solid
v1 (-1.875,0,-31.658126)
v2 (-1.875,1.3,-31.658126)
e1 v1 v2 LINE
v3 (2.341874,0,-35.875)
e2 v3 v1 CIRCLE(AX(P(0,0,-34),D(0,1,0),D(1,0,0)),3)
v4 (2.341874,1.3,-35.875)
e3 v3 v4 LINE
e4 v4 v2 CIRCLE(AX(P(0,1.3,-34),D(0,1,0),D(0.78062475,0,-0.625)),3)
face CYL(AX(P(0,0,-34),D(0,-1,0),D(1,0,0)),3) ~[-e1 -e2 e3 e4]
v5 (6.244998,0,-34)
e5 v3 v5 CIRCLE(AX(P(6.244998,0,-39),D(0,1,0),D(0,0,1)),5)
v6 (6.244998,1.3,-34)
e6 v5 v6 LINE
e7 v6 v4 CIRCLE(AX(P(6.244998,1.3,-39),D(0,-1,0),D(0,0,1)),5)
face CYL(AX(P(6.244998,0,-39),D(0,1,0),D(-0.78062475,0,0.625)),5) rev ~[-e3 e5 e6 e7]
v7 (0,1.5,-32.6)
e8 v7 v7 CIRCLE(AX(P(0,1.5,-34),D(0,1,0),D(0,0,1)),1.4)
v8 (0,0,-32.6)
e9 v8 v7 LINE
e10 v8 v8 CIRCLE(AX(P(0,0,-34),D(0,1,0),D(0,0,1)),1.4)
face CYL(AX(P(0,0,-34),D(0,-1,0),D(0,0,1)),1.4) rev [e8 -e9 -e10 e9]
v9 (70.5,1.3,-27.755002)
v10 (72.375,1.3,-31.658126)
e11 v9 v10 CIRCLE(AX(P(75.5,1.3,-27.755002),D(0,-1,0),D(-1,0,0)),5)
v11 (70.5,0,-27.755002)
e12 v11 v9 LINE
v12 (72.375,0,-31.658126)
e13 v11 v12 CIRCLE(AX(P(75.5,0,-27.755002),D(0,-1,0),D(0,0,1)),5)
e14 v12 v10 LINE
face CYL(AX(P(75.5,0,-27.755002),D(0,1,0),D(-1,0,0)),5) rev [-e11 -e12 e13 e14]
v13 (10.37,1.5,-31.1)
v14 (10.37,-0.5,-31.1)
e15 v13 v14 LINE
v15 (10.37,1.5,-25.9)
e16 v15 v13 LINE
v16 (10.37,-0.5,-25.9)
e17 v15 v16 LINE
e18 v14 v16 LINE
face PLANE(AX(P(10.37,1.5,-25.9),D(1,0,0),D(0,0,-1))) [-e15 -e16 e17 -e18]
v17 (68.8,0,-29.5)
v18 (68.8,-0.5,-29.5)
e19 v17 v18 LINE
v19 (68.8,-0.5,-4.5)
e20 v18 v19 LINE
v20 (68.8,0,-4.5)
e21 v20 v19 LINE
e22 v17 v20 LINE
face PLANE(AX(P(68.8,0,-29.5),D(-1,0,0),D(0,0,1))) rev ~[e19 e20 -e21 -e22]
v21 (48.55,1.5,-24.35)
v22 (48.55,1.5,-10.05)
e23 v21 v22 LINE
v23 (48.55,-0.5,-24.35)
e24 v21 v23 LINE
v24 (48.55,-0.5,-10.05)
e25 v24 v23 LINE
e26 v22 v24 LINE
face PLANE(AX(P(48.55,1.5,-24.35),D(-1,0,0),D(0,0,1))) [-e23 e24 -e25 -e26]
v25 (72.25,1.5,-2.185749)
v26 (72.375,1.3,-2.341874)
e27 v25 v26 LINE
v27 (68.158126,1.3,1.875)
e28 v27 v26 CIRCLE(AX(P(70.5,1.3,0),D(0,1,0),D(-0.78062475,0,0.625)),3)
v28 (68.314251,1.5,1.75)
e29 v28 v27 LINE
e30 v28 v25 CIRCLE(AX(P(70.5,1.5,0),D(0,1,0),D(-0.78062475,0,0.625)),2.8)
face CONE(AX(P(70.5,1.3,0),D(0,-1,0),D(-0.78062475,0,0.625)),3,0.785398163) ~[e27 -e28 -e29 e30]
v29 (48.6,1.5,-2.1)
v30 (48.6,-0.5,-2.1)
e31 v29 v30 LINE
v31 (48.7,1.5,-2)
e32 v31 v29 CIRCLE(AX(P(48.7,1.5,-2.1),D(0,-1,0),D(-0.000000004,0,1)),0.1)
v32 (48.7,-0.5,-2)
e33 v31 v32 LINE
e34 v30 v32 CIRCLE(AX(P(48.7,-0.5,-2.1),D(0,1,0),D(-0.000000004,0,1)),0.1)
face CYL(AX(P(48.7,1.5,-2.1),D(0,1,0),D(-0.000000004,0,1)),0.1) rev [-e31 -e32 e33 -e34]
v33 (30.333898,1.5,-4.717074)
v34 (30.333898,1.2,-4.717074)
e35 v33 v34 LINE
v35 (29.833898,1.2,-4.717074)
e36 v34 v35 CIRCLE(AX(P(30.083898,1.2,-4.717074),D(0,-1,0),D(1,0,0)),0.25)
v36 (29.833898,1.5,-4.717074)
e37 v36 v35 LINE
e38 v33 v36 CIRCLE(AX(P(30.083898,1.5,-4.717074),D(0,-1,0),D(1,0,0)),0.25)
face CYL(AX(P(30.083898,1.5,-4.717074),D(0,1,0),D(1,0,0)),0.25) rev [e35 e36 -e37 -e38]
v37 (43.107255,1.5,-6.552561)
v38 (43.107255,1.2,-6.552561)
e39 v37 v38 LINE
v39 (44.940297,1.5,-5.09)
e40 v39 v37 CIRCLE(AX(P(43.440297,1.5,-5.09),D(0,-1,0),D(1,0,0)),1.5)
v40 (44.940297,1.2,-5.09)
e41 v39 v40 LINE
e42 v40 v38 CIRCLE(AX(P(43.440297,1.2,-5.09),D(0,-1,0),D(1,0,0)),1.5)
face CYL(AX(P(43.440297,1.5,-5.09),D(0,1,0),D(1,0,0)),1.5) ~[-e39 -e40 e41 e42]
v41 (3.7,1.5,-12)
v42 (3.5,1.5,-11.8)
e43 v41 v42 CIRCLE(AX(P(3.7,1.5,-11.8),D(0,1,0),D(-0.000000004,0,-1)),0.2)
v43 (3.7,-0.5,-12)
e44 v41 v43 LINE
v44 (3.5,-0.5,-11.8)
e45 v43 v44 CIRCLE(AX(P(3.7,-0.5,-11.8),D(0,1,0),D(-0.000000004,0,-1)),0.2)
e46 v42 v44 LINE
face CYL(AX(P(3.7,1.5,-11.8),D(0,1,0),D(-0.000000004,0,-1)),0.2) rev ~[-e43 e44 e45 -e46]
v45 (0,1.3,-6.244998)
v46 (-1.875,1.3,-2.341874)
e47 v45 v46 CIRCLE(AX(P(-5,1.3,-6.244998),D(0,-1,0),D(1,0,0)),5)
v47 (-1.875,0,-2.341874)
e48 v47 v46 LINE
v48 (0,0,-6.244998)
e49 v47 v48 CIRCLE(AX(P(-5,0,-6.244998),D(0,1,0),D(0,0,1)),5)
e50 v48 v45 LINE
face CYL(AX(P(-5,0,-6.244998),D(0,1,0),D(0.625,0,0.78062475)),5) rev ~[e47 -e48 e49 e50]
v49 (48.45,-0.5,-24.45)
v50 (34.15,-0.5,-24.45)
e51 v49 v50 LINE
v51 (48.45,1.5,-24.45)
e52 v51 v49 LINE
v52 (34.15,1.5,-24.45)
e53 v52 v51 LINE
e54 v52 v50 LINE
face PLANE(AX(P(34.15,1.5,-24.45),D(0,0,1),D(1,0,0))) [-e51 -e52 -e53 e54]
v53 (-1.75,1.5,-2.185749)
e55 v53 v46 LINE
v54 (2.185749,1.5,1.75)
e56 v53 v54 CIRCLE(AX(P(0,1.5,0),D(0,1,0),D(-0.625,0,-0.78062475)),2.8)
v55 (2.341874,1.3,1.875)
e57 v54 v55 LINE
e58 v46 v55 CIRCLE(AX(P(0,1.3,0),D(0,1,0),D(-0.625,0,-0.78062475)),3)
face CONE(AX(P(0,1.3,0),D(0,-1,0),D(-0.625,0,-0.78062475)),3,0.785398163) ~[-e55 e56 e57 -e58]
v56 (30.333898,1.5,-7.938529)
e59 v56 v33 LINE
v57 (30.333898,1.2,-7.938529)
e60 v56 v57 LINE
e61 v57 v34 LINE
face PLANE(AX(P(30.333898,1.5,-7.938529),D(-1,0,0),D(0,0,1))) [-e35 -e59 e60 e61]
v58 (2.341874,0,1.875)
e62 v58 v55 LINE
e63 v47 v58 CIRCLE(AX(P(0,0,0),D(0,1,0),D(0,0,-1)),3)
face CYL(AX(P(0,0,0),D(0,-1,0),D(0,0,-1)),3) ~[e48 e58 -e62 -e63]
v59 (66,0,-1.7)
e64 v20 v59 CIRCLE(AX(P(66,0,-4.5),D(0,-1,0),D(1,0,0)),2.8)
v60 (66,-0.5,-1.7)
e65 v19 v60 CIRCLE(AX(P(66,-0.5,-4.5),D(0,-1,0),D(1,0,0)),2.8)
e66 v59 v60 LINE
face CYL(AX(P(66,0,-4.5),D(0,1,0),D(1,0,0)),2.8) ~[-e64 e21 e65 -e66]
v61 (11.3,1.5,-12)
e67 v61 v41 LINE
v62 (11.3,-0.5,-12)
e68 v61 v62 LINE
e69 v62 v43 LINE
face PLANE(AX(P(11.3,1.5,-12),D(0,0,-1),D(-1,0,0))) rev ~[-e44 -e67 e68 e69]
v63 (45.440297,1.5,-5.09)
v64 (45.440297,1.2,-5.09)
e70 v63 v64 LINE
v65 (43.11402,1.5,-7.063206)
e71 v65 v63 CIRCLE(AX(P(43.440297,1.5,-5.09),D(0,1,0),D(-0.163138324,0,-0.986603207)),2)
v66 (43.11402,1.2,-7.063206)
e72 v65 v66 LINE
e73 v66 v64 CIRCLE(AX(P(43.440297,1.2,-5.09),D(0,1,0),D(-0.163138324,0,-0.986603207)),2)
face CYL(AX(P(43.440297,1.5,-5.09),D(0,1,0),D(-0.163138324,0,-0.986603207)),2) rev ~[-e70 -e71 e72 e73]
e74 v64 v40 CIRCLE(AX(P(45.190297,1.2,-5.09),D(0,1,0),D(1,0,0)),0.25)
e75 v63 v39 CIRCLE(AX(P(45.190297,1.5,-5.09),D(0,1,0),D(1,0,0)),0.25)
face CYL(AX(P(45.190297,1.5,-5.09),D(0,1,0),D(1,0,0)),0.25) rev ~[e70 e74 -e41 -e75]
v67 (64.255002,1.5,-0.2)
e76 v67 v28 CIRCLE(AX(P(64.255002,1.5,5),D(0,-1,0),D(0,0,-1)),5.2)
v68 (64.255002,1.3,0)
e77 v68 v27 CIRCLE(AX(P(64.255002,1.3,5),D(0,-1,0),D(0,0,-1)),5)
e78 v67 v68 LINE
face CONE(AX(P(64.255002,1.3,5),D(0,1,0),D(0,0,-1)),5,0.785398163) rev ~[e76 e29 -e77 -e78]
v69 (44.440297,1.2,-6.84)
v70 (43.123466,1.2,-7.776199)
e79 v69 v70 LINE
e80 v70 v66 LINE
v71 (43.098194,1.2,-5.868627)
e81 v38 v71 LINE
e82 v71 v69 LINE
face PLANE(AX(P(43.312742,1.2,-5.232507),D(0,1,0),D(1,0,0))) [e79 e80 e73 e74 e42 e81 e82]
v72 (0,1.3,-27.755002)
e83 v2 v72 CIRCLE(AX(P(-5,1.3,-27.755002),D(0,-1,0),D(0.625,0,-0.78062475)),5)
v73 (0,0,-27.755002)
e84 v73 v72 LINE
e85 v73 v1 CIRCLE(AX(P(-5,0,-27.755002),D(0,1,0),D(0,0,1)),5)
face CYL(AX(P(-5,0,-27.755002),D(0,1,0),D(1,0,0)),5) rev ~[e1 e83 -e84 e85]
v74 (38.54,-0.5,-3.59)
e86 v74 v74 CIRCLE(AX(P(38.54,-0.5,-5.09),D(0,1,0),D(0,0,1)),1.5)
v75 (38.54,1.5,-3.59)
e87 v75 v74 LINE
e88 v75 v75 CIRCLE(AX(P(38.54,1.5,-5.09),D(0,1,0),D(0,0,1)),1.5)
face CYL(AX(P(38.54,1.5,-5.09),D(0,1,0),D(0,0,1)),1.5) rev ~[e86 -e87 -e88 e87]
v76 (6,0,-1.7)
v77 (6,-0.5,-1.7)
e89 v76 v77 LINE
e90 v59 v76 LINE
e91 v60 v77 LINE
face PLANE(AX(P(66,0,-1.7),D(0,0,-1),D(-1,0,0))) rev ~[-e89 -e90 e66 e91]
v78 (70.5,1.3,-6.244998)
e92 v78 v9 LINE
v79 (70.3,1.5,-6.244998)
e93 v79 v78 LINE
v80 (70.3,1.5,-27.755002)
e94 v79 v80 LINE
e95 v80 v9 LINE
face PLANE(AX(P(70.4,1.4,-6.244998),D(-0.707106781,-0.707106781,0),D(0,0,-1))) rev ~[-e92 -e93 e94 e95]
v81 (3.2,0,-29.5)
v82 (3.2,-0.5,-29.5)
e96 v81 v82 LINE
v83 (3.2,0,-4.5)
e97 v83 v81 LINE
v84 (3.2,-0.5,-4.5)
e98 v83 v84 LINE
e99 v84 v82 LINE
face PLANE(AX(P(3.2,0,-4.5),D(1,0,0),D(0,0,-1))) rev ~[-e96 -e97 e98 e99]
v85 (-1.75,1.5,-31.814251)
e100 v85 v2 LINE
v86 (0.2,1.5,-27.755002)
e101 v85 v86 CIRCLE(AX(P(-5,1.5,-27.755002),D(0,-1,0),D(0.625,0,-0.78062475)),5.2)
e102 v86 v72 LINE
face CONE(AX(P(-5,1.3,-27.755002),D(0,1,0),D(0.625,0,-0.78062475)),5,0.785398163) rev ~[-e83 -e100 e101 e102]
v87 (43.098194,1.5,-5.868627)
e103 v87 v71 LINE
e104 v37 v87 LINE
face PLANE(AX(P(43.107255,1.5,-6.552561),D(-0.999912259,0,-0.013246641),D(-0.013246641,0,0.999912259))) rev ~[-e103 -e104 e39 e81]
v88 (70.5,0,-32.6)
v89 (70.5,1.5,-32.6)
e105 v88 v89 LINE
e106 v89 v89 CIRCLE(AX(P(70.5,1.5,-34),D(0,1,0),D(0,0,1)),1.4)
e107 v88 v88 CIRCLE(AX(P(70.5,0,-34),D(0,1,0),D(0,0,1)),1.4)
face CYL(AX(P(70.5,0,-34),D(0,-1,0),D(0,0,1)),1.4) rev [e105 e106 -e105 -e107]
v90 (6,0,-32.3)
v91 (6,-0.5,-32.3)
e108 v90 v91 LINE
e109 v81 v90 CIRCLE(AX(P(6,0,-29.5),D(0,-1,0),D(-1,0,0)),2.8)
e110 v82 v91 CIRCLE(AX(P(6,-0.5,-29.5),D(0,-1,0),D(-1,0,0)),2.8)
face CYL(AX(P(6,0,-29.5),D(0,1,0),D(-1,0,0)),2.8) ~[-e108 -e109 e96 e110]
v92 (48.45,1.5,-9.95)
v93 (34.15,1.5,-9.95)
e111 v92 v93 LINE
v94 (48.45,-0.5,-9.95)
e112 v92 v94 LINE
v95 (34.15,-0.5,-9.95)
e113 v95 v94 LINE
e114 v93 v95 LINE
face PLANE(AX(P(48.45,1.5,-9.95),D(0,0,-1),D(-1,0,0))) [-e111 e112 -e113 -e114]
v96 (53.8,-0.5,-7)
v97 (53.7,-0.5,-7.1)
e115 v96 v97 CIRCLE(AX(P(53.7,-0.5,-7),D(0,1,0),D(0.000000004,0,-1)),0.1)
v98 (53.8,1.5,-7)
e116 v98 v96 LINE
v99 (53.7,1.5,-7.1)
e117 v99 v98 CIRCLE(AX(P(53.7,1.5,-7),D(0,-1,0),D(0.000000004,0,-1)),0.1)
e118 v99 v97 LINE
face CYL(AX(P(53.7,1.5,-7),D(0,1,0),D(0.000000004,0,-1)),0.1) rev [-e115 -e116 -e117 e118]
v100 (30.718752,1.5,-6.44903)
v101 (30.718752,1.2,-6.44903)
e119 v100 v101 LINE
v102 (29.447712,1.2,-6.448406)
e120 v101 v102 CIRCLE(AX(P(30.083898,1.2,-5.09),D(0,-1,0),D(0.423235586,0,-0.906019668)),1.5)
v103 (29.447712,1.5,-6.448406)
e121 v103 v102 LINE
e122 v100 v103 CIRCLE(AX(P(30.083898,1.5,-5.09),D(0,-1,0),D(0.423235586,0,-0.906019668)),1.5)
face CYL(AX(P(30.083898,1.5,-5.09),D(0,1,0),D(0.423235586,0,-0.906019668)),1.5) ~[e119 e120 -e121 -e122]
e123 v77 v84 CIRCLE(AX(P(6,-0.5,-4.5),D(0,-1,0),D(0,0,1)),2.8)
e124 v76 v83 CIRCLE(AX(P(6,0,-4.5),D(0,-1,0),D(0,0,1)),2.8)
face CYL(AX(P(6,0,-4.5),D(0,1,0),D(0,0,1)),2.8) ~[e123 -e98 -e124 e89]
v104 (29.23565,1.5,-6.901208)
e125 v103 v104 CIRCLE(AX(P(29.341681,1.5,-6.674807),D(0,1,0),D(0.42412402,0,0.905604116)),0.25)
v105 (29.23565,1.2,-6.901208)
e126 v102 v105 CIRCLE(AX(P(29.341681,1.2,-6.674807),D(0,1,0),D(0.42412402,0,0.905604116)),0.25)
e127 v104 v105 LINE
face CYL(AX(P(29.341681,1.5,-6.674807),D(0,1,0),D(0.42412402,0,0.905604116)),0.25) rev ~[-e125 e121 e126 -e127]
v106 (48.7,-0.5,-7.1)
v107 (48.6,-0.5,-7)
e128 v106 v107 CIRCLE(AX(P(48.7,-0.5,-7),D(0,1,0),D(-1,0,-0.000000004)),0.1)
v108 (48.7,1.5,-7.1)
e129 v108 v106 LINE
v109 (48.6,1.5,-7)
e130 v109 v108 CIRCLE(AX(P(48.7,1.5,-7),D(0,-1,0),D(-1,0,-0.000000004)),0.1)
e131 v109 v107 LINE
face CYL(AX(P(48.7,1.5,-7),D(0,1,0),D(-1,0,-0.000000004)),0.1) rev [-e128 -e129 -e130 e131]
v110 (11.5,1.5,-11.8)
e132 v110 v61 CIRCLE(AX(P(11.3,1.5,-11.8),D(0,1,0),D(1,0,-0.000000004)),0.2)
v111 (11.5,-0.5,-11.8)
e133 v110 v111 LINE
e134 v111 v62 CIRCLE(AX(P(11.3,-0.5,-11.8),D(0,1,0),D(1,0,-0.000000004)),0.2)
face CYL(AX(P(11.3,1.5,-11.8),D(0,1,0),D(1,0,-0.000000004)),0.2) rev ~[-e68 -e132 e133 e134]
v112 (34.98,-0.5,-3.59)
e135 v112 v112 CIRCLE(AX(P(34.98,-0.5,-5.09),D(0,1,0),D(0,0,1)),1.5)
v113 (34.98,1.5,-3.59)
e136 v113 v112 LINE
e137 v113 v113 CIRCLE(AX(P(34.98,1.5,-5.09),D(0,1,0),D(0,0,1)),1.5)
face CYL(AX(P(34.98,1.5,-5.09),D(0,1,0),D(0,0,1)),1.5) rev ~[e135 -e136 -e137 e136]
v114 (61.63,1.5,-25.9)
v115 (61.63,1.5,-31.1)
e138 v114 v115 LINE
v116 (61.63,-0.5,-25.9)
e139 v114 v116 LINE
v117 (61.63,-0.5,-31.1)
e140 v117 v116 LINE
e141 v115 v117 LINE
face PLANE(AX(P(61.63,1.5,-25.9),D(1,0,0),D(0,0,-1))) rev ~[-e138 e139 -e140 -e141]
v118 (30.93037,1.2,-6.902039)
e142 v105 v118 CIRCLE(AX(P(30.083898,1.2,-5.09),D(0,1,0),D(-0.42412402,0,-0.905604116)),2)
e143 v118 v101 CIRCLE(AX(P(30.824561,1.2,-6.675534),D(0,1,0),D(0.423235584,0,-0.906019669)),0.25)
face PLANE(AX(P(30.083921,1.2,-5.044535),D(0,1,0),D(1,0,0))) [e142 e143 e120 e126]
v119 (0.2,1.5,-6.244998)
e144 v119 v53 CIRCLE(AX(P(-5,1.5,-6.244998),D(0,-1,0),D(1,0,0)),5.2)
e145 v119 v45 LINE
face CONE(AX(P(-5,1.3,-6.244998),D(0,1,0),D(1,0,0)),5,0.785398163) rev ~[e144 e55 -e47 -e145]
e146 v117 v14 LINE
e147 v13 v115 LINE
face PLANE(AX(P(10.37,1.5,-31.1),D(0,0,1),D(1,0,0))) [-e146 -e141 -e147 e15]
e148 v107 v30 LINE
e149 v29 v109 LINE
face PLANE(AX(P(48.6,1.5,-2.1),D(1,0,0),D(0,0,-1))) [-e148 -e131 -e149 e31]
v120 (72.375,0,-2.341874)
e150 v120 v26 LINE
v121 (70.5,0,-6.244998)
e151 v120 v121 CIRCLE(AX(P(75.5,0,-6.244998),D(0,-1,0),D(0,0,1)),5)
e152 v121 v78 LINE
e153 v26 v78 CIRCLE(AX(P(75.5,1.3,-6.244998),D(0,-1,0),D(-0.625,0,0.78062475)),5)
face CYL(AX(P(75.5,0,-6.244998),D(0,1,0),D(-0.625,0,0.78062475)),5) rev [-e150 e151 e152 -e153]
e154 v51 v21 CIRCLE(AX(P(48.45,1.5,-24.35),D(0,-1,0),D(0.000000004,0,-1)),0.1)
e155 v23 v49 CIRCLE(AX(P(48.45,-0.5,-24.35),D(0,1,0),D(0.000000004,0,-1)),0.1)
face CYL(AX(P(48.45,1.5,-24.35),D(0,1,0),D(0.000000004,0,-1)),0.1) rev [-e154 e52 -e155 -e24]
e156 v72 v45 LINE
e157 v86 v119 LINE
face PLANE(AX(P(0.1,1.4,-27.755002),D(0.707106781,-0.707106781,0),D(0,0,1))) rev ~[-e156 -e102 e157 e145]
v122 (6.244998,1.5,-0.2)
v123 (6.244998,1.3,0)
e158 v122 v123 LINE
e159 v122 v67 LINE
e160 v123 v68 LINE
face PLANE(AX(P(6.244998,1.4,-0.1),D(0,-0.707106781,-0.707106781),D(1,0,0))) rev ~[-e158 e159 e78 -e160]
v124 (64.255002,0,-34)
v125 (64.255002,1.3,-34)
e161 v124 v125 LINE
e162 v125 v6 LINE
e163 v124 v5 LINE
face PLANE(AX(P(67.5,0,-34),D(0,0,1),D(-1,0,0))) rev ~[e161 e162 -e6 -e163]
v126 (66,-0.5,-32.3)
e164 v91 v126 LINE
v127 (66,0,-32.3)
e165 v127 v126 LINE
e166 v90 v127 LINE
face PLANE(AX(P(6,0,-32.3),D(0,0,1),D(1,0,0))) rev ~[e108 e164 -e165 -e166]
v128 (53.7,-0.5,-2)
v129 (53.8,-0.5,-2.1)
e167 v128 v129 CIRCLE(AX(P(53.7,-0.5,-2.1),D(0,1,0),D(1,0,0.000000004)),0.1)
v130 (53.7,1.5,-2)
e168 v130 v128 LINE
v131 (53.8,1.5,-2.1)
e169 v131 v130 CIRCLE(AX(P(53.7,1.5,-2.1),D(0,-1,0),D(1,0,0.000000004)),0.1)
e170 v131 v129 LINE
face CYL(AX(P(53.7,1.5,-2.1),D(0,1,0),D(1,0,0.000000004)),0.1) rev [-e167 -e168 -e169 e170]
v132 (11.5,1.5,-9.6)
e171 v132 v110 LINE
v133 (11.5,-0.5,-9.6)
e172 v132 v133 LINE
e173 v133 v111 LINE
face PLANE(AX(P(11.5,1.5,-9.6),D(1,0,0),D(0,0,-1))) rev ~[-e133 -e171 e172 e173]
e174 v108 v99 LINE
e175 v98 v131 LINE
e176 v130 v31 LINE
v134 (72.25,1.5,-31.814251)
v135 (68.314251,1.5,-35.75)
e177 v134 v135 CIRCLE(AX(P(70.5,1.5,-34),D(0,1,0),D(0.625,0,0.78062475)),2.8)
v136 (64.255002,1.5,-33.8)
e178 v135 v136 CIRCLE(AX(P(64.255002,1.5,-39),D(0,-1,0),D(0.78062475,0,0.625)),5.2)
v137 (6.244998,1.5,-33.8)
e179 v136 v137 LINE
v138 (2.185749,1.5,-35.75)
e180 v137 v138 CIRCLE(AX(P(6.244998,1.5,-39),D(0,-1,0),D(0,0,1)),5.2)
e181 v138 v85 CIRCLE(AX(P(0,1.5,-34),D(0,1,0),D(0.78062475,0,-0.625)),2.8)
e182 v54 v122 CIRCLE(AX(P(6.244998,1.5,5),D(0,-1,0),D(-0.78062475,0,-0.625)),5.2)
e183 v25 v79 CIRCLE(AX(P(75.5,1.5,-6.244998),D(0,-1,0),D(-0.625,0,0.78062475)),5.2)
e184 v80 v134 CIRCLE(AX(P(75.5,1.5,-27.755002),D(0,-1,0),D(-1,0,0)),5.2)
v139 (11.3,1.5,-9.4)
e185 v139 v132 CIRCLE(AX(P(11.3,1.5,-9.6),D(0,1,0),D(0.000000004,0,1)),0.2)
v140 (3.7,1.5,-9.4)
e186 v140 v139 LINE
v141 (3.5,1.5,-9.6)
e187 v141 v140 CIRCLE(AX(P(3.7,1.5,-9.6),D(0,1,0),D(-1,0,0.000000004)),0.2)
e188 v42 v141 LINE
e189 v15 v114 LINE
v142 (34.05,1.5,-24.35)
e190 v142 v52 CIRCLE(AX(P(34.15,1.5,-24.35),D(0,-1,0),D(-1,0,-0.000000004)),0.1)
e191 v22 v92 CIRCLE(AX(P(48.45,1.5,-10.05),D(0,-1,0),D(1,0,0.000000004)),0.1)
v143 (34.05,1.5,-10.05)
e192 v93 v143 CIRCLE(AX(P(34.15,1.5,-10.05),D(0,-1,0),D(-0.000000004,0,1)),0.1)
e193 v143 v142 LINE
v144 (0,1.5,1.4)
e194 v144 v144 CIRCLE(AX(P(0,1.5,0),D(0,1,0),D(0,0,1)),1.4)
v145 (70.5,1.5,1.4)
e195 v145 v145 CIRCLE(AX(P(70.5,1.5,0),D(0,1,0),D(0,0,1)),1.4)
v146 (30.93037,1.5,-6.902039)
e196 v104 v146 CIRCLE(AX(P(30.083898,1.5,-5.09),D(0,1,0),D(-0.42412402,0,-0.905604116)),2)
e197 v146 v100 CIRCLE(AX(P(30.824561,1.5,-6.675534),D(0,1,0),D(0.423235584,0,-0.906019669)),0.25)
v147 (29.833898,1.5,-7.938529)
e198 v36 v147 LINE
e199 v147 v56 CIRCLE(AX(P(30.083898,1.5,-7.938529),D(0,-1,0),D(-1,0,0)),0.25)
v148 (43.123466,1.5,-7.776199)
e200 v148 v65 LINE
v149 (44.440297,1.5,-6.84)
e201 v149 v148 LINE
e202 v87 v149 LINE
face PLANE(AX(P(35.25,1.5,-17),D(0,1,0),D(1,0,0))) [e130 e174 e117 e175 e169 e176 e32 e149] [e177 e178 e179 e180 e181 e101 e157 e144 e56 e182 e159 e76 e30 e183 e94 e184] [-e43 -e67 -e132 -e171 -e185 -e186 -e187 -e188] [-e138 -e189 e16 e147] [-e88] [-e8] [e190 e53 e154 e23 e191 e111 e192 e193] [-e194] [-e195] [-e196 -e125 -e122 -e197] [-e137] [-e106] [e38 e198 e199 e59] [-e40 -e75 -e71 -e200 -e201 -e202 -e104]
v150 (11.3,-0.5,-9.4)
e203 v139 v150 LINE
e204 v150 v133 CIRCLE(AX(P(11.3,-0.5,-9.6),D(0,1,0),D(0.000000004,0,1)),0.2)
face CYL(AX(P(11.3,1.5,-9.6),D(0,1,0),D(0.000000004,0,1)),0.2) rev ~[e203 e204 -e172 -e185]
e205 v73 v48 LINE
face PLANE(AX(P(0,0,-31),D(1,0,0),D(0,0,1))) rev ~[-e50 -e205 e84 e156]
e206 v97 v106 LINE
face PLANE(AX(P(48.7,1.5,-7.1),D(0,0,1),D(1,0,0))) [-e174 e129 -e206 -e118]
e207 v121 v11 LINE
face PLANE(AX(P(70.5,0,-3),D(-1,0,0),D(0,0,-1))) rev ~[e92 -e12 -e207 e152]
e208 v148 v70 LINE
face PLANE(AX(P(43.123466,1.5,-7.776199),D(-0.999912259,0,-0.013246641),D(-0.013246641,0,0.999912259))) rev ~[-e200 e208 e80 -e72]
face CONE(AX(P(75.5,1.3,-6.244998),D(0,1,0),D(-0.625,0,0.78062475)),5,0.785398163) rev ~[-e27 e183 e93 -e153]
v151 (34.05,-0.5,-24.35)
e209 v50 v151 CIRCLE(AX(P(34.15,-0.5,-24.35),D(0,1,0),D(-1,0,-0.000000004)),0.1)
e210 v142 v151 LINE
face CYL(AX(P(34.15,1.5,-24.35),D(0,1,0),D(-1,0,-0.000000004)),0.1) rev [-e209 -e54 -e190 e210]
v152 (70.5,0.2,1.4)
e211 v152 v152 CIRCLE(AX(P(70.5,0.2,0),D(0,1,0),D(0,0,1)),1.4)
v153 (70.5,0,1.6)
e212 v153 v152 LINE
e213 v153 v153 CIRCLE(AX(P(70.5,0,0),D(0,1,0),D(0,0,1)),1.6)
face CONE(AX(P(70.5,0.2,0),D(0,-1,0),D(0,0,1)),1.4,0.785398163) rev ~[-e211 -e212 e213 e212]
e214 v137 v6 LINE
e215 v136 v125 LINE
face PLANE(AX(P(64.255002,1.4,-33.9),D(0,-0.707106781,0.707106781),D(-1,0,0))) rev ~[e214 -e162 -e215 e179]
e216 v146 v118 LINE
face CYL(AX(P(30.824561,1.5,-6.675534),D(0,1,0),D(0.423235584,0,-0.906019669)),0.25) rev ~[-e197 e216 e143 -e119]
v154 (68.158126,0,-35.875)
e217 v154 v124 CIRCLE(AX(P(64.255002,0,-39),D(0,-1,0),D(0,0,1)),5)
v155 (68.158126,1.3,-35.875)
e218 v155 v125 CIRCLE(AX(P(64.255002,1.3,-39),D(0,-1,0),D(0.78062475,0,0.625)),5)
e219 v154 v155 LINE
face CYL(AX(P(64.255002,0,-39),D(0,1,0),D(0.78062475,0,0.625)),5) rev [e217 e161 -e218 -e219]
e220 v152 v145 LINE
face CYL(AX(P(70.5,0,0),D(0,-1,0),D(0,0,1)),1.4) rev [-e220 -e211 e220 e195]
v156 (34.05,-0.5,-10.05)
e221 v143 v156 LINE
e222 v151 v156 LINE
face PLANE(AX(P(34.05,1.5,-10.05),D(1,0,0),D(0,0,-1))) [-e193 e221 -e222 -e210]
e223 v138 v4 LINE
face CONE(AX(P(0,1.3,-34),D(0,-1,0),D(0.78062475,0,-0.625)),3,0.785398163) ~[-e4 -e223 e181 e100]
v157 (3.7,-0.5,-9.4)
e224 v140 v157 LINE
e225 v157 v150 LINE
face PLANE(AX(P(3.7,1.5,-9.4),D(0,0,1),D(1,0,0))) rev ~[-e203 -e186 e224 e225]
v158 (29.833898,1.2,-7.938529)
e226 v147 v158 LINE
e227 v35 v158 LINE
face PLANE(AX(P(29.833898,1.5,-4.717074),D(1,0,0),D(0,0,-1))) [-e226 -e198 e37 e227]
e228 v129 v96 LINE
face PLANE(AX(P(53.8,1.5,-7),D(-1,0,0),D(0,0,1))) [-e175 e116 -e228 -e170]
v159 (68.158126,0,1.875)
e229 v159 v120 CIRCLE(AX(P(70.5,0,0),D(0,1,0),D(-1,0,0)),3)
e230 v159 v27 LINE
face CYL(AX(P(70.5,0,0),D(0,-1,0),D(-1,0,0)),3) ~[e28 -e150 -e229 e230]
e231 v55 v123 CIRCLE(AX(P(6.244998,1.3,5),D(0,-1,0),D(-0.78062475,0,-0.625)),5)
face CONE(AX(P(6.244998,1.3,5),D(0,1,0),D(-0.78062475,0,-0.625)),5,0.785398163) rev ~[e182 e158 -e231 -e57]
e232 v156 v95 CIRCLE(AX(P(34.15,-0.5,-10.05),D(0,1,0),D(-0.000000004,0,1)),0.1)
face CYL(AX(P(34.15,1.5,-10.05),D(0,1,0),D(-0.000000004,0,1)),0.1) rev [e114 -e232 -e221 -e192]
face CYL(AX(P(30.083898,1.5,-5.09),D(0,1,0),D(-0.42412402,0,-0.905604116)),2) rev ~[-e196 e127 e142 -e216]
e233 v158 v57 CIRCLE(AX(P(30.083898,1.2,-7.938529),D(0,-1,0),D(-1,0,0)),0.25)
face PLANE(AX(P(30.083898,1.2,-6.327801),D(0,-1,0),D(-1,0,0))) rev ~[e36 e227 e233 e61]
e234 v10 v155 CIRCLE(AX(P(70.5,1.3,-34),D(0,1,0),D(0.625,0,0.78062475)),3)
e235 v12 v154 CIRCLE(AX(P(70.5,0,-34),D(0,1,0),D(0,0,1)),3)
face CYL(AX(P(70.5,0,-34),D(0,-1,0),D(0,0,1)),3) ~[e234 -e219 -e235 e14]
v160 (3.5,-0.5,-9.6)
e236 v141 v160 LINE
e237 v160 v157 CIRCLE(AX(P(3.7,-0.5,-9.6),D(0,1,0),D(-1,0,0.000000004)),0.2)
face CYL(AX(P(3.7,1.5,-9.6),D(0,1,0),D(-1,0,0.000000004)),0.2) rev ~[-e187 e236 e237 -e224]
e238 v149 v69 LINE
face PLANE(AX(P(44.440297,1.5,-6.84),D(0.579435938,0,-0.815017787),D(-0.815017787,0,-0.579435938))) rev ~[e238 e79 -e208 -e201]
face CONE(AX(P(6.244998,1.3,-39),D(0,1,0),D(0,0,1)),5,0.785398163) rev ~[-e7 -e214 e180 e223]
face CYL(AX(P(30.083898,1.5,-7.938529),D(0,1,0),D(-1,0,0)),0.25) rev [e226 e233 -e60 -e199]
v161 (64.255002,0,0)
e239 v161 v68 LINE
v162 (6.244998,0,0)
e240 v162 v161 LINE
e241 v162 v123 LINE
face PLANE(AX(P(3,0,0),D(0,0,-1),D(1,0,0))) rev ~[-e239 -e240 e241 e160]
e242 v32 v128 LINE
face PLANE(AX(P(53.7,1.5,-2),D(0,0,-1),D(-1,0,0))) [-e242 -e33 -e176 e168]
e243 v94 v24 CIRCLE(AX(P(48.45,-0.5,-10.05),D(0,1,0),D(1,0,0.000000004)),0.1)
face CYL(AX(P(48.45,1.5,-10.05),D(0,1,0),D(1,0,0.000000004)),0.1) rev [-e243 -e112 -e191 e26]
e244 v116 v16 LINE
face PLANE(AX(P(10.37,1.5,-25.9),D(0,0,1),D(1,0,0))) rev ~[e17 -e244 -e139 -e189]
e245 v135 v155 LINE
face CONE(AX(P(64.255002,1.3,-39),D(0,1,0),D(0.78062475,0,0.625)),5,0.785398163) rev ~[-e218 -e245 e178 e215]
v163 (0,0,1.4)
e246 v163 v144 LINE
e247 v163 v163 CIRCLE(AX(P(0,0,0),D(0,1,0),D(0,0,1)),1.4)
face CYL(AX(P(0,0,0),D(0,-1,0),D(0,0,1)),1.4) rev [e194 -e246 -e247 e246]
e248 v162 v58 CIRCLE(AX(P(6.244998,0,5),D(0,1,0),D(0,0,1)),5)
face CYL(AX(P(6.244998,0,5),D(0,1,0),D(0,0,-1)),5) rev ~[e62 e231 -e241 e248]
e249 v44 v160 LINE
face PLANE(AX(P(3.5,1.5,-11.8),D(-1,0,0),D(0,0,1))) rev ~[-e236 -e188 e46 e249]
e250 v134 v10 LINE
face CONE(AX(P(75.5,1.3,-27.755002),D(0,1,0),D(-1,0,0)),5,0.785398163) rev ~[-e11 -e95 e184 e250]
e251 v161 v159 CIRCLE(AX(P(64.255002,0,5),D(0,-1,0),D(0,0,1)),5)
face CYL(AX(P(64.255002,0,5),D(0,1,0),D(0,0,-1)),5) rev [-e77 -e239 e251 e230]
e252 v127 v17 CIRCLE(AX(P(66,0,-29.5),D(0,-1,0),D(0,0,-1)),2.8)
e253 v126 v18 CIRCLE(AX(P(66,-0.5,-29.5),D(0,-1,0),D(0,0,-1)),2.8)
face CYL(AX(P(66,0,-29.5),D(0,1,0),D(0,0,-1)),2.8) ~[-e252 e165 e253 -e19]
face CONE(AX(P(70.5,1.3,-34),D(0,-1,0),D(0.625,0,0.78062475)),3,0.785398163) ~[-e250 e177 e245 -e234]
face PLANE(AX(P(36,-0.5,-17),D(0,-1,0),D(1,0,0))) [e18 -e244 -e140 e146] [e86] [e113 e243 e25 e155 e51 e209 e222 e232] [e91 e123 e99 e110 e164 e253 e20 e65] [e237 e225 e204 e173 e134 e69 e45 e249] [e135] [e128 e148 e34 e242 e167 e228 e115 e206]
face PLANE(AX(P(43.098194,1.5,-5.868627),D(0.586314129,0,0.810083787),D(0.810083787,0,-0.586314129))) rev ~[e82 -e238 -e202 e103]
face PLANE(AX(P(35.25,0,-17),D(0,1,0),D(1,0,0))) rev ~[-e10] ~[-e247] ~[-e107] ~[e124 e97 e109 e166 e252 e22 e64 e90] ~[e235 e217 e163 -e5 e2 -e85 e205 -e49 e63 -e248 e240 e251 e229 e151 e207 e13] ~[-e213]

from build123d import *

# Parameters (mm, degrees)
SKETCH_1_R          = 1.4
EXTRUDE_1_DEPTH     = 1.5
FILLET_1_R          = 5
EXTRUDE_2_DEPTH     = 0.5
CUT_EXTRUDE_1_DEPTH = 2.5
SKETCH_3_W          = 51.26
SKETCH_3_H          = 5.2
CUT_EXTRUDE_2_DEPTH = 2.5
CUT_EXTRUDE_3_DEPTH = 2.5
SKETCH_5_R          = 1.5
CUT_EXTRUDE_4_DEPTH = 2.5
CUT_EXTRUDE_5_DEPTH = 0.3
CHAMFER_1_SIZE      = 0.2
CUT_EXTRUDE_6_DEPTH = 2


with BuildPart() as part:
    # 草图1 → 凸台-拉伸1 (new body)
    with BuildSketch(Plane(origin=(0, 0, 0), x_dir=(1, 0, 0), z_dir=(0, 1, 0))):
        with BuildLine():
            Line((3, 0), (67.5, 0))
            ThreePointArc((67.5, 0), (72.621320344, -2.121320344), (70.5, 3))
            Line((70.5, 3), (70.5, 31))
            ThreePointArc((70.5, 31), (72.621320344, 36.121320344), (67.5, 34))
            Line((67.5, 34), (3, 34))
            ThreePointArc((3, 34), (-2.121320344, 36.121320344), (0, 31))
            Line((0, 31), (0, 3))
            ThreePointArc((0, 3), (-2.121320344, -2.121320344), (3, 0))
        make_face()
        with Locations(Location((0, 0, 0), (0, 0, 270))):
            Circle(SKETCH_1_R, mode=Mode.SUBTRACT)
        with Locations(Location((70.5, 0, 0), (0, 0, 270))):
            Circle(SKETCH_1_R, mode=Mode.SUBTRACT)
        with Locations(Location((70.5, 34, 0), (0, 0, 270))):
            Circle(SKETCH_1_R, mode=Mode.SUBTRACT)
        with Locations(Location((0, 34, 0), (0, 0, 270))):
            Circle(SKETCH_1_R, mode=Mode.SUBTRACT)
    extrude(amount=EXTRUDE_1_DEPTH)

    # 圆角1
    fillet_1_edges = [part.edges().sort_by_distance(p)[0] for p in [
        (70.5, 0.75, -31),
        (70.5, 0.75, -3),
        (67.5, 0.75, 0),
        (3, 0.75, 0),
        (0, 0.75, -3),
        (0, 0.75, -31),
        (3, 0.75, -34),
        (67.5, 0.75, -34),
    ]]
    fillet(fillet_1_edges, radius=FILLET_1_R)

    # 草图9 → 凸台-拉伸2 (add)
    with BuildSketch(Plane.XZ):
        with BuildLine():
            Line((3.2, -4.5), (3.2, -29.5))
            ThreePointArc((3.2, -29.5), (4.020101013, -31.479898987), (6, -32.3))
            Line((6, -32.3), (66, -32.3))
            ThreePointArc((66, -32.3), (67.979898987, -31.479898987), (68.8, -29.5))
            Line((68.8, -29.5), (68.8, -4.5))
            ThreePointArc((68.8, -4.5), (67.979898987, -2.520101013), (66, -1.7))
            Line((66, -1.7), (6, -1.7))
            ThreePointArc((6, -1.7), (4.020101013, -2.520101013), (3.2, -4.5))
        make_face()
    extrude(amount=EXTRUDE_2_DEPTH)

    # 草图2 → 切除-拉伸1 (cut)
    with BuildSketch(Plane(origin=(0, 1.5, 0), x_dir=(1, 0, 0), z_dir=(0, 1, 0))):
        with BuildLine():
            Line((48.45, 9.95), (34.15, 9.95))
            ThreePointArc((34.15, 9.95), (34.079289322, 9.979289322), (34.05, 10.05))
            Line((34.05, 10.05), (34.05, 24.35))
            ThreePointArc((34.05, 24.35), (34.079289322, 24.420710678), (34.15, 24.45))
            Line((34.15, 24.45), (48.45, 24.45))
            ThreePointArc((48.45, 24.45), (48.520710678, 24.420710678), (48.55, 24.35))
            Line((48.55, 24.35), (48.55, 10.05))
            ThreePointArc((48.55, 10.05), (48.520710678, 9.979289322), (48.45, 9.95))
        make_face()
    extrude(amount=-CUT_EXTRUDE_1_DEPTH, mode=Mode.SUBTRACT)

    # 草图3 → 切除-拉伸2 (cut)
    with BuildSketch(Plane(origin=(0, 1.5, 0), x_dir=(1, 0, 0), z_dir=(0, 1, 0))):
        with Locations((36, 28.5)):
            Rectangle(SKETCH_3_W, SKETCH_3_H)
    extrude(amount=-CUT_EXTRUDE_2_DEPTH, mode=Mode.SUBTRACT)

    # 草图4 → 切除-拉伸3 (cut)
    with BuildSketch(Plane(origin=(0, 1.5, 0), x_dir=(1, 0, 0), z_dir=(0, 1, 0))):
        with BuildLine():
            Line((48.7, 7.1), (53.7, 7.1))
            ThreePointArc((53.7, 7.1), (53.770710678, 7.070710678), (53.8, 7))
            Line((53.8, 7), (53.8, 2.1))
            ThreePointArc((53.8, 2.1), (53.770710678, 2.029289322), (53.7, 2))
            Line((53.7, 2), (48.7, 2))
            ThreePointArc((48.7, 2), (48.629289322, 2.029289322), (48.6, 2.1))
            Line((48.6, 2.1), (48.6, 7))
            ThreePointArc((48.6, 7), (48.629289322, 7.070710678), (48.7, 7.1))
        make_face()
    extrude(amount=-CUT_EXTRUDE_3_DEPTH, mode=Mode.SUBTRACT)

    # 草图5 → 切除-拉伸4 (cut)
    with BuildSketch(Plane(origin=(0, 1.5, 0), x_dir=(1, 0, 0), z_dir=(0, 1, 0))):
        with Locations(Location((34.98, 5.09, 0), (0, 0, 270))):
            Circle(SKETCH_5_R)
        with Locations(Location((38.54, 5.09, 0), (0, 0, 270))):
            Circle(SKETCH_5_R)
    extrude(amount=-CUT_EXTRUDE_4_DEPTH, mode=Mode.SUBTRACT)

    # 草图7 → 切除-拉伸5 (cut)
    with BuildSketch(Plane(origin=(0, 1.5, 0), x_dir=(1, 0, 0), z_dir=(0, 1, 0))):
        with BuildLine():
            Line((43.10725502, 6.55256053), (43.098194404, 5.868627045))
            Line((43.098194404, 5.868627045), (44.440296605, 6.84))
            Line((44.440296605, 6.84), (43.123465549, 7.776199492))
            Line((43.123465549, 7.776199492), (43.114019957, 7.063206413))
            ThreePointArc((43.114019957, 7.063206413), (42.146572001, 3.56478636), (45.440296605, 5.09))
            ThreePointArc((45.440296605, 5.09), (45.190296605, 5.34), (44.940296605, 5.09))
            ThreePointArc((44.940296605, 5.09), (42.504765307, 3.917489365), (43.10725502, 6.55256053))
        make_face()
        with BuildLine():
            Line((29.833898496, 4.717073646), (29.833898496, 7.938528917))
            ThreePointArc((29.833898496, 7.938528917), (30.083898496, 8.188528917), (30.333898496, 7.938528917))
            Line((30.333898496, 7.938528917), (30.333898496, 4.717073646))
            ThreePointArc((30.333898496, 4.717073646), (30.083898496, 4.467073646), (29.833898496, 4.717073646))
        make_face()
        with BuildLine():
            ThreePointArc((29.235650456, 6.901208233), (30.08487931, 3.09000024), (30.930369668, 6.902039336))
            ThreePointArc((30.930369668, 6.902039336), (30.598055855, 6.781343315), (30.718751875, 6.449029502))
            ThreePointArc((30.718751875, 6.449029502), (30.084634106, 3.59000018), (29.447712466, 6.448406175))
            ThreePointArc((29.447712466, 6.448406175), (29.56808249, 6.780838209), (29.235650456, 6.901208233))
        make_face()
    extrude(amount=-CUT_EXTRUDE_5_DEPTH, mode=Mode.SUBTRACT)

    # 倒角1
    chamfer_1_edges = [part.edges().sort_by_distance(p)[0] for p in [
        (70.5, 0, -1.4),
        (72.621320344, 1.5, 2.121320344),
        (35.25, 1.5, 0),
        (-2.121320344, 1.5, 2.121320344),
        (0, 1.5, -17),
        (-2.121320344, 1.5, -36.121320344),
        (35.25, 1.5, -34),
        (72.621320344, 1.5, -36.121320344),
        (70.5, 1.5, -17),
        (66.420065511, 1.5, 0.493060906),
        (4.079934489, 1.5, 0.493060906),
        (-0.493060906, 1.5, -4.079934489),
        (-0.493060906, 1.5, -29.920065511),
        (4.079934489, 1.5, -34.493060906),
        (66.420065511, 1.5, -34.493060906),
        (70.993060906, 1.5, -29.920065511),
        (70.993060906, 1.5, -4.079934489),
    ]]
    chamfer(chamfer_1_edges, length=CHAMFER_1_SIZE)

    # 草图10 → 切除-拉伸6 (cut)
    with BuildSketch(Plane(origin=(0, 1.5, 0), x_dir=(1, 0, 0), z_dir=(0, 1, 0))):
        with BuildLine():
            Line((3.7, 9.4), (11.3, 9.4))
            ThreePointArc((11.3, 9.4), (11.441421356, 9.458578644), (11.5, 9.6))
            Line((11.5, 9.6), (11.5, 11.8))
            ThreePointArc((11.5, 11.8), (11.441421356, 11.941421356), (11.3, 12))
            Line((11.3, 12), (3.7, 12))
            ThreePointArc((3.7, 12), (3.558578644, 11.941421356), (3.5, 11.8))
            Line((3.5, 11.8), (3.5, 9.6))
            ThreePointArc((3.5, 9.6), (3.558578644, 9.458578644), (3.7, 9.4))
        make_face()
    extrude(amount=-CUT_EXTRUDE_6_DEPTH, mode=Mode.SUBTRACT)


solid = part.part
